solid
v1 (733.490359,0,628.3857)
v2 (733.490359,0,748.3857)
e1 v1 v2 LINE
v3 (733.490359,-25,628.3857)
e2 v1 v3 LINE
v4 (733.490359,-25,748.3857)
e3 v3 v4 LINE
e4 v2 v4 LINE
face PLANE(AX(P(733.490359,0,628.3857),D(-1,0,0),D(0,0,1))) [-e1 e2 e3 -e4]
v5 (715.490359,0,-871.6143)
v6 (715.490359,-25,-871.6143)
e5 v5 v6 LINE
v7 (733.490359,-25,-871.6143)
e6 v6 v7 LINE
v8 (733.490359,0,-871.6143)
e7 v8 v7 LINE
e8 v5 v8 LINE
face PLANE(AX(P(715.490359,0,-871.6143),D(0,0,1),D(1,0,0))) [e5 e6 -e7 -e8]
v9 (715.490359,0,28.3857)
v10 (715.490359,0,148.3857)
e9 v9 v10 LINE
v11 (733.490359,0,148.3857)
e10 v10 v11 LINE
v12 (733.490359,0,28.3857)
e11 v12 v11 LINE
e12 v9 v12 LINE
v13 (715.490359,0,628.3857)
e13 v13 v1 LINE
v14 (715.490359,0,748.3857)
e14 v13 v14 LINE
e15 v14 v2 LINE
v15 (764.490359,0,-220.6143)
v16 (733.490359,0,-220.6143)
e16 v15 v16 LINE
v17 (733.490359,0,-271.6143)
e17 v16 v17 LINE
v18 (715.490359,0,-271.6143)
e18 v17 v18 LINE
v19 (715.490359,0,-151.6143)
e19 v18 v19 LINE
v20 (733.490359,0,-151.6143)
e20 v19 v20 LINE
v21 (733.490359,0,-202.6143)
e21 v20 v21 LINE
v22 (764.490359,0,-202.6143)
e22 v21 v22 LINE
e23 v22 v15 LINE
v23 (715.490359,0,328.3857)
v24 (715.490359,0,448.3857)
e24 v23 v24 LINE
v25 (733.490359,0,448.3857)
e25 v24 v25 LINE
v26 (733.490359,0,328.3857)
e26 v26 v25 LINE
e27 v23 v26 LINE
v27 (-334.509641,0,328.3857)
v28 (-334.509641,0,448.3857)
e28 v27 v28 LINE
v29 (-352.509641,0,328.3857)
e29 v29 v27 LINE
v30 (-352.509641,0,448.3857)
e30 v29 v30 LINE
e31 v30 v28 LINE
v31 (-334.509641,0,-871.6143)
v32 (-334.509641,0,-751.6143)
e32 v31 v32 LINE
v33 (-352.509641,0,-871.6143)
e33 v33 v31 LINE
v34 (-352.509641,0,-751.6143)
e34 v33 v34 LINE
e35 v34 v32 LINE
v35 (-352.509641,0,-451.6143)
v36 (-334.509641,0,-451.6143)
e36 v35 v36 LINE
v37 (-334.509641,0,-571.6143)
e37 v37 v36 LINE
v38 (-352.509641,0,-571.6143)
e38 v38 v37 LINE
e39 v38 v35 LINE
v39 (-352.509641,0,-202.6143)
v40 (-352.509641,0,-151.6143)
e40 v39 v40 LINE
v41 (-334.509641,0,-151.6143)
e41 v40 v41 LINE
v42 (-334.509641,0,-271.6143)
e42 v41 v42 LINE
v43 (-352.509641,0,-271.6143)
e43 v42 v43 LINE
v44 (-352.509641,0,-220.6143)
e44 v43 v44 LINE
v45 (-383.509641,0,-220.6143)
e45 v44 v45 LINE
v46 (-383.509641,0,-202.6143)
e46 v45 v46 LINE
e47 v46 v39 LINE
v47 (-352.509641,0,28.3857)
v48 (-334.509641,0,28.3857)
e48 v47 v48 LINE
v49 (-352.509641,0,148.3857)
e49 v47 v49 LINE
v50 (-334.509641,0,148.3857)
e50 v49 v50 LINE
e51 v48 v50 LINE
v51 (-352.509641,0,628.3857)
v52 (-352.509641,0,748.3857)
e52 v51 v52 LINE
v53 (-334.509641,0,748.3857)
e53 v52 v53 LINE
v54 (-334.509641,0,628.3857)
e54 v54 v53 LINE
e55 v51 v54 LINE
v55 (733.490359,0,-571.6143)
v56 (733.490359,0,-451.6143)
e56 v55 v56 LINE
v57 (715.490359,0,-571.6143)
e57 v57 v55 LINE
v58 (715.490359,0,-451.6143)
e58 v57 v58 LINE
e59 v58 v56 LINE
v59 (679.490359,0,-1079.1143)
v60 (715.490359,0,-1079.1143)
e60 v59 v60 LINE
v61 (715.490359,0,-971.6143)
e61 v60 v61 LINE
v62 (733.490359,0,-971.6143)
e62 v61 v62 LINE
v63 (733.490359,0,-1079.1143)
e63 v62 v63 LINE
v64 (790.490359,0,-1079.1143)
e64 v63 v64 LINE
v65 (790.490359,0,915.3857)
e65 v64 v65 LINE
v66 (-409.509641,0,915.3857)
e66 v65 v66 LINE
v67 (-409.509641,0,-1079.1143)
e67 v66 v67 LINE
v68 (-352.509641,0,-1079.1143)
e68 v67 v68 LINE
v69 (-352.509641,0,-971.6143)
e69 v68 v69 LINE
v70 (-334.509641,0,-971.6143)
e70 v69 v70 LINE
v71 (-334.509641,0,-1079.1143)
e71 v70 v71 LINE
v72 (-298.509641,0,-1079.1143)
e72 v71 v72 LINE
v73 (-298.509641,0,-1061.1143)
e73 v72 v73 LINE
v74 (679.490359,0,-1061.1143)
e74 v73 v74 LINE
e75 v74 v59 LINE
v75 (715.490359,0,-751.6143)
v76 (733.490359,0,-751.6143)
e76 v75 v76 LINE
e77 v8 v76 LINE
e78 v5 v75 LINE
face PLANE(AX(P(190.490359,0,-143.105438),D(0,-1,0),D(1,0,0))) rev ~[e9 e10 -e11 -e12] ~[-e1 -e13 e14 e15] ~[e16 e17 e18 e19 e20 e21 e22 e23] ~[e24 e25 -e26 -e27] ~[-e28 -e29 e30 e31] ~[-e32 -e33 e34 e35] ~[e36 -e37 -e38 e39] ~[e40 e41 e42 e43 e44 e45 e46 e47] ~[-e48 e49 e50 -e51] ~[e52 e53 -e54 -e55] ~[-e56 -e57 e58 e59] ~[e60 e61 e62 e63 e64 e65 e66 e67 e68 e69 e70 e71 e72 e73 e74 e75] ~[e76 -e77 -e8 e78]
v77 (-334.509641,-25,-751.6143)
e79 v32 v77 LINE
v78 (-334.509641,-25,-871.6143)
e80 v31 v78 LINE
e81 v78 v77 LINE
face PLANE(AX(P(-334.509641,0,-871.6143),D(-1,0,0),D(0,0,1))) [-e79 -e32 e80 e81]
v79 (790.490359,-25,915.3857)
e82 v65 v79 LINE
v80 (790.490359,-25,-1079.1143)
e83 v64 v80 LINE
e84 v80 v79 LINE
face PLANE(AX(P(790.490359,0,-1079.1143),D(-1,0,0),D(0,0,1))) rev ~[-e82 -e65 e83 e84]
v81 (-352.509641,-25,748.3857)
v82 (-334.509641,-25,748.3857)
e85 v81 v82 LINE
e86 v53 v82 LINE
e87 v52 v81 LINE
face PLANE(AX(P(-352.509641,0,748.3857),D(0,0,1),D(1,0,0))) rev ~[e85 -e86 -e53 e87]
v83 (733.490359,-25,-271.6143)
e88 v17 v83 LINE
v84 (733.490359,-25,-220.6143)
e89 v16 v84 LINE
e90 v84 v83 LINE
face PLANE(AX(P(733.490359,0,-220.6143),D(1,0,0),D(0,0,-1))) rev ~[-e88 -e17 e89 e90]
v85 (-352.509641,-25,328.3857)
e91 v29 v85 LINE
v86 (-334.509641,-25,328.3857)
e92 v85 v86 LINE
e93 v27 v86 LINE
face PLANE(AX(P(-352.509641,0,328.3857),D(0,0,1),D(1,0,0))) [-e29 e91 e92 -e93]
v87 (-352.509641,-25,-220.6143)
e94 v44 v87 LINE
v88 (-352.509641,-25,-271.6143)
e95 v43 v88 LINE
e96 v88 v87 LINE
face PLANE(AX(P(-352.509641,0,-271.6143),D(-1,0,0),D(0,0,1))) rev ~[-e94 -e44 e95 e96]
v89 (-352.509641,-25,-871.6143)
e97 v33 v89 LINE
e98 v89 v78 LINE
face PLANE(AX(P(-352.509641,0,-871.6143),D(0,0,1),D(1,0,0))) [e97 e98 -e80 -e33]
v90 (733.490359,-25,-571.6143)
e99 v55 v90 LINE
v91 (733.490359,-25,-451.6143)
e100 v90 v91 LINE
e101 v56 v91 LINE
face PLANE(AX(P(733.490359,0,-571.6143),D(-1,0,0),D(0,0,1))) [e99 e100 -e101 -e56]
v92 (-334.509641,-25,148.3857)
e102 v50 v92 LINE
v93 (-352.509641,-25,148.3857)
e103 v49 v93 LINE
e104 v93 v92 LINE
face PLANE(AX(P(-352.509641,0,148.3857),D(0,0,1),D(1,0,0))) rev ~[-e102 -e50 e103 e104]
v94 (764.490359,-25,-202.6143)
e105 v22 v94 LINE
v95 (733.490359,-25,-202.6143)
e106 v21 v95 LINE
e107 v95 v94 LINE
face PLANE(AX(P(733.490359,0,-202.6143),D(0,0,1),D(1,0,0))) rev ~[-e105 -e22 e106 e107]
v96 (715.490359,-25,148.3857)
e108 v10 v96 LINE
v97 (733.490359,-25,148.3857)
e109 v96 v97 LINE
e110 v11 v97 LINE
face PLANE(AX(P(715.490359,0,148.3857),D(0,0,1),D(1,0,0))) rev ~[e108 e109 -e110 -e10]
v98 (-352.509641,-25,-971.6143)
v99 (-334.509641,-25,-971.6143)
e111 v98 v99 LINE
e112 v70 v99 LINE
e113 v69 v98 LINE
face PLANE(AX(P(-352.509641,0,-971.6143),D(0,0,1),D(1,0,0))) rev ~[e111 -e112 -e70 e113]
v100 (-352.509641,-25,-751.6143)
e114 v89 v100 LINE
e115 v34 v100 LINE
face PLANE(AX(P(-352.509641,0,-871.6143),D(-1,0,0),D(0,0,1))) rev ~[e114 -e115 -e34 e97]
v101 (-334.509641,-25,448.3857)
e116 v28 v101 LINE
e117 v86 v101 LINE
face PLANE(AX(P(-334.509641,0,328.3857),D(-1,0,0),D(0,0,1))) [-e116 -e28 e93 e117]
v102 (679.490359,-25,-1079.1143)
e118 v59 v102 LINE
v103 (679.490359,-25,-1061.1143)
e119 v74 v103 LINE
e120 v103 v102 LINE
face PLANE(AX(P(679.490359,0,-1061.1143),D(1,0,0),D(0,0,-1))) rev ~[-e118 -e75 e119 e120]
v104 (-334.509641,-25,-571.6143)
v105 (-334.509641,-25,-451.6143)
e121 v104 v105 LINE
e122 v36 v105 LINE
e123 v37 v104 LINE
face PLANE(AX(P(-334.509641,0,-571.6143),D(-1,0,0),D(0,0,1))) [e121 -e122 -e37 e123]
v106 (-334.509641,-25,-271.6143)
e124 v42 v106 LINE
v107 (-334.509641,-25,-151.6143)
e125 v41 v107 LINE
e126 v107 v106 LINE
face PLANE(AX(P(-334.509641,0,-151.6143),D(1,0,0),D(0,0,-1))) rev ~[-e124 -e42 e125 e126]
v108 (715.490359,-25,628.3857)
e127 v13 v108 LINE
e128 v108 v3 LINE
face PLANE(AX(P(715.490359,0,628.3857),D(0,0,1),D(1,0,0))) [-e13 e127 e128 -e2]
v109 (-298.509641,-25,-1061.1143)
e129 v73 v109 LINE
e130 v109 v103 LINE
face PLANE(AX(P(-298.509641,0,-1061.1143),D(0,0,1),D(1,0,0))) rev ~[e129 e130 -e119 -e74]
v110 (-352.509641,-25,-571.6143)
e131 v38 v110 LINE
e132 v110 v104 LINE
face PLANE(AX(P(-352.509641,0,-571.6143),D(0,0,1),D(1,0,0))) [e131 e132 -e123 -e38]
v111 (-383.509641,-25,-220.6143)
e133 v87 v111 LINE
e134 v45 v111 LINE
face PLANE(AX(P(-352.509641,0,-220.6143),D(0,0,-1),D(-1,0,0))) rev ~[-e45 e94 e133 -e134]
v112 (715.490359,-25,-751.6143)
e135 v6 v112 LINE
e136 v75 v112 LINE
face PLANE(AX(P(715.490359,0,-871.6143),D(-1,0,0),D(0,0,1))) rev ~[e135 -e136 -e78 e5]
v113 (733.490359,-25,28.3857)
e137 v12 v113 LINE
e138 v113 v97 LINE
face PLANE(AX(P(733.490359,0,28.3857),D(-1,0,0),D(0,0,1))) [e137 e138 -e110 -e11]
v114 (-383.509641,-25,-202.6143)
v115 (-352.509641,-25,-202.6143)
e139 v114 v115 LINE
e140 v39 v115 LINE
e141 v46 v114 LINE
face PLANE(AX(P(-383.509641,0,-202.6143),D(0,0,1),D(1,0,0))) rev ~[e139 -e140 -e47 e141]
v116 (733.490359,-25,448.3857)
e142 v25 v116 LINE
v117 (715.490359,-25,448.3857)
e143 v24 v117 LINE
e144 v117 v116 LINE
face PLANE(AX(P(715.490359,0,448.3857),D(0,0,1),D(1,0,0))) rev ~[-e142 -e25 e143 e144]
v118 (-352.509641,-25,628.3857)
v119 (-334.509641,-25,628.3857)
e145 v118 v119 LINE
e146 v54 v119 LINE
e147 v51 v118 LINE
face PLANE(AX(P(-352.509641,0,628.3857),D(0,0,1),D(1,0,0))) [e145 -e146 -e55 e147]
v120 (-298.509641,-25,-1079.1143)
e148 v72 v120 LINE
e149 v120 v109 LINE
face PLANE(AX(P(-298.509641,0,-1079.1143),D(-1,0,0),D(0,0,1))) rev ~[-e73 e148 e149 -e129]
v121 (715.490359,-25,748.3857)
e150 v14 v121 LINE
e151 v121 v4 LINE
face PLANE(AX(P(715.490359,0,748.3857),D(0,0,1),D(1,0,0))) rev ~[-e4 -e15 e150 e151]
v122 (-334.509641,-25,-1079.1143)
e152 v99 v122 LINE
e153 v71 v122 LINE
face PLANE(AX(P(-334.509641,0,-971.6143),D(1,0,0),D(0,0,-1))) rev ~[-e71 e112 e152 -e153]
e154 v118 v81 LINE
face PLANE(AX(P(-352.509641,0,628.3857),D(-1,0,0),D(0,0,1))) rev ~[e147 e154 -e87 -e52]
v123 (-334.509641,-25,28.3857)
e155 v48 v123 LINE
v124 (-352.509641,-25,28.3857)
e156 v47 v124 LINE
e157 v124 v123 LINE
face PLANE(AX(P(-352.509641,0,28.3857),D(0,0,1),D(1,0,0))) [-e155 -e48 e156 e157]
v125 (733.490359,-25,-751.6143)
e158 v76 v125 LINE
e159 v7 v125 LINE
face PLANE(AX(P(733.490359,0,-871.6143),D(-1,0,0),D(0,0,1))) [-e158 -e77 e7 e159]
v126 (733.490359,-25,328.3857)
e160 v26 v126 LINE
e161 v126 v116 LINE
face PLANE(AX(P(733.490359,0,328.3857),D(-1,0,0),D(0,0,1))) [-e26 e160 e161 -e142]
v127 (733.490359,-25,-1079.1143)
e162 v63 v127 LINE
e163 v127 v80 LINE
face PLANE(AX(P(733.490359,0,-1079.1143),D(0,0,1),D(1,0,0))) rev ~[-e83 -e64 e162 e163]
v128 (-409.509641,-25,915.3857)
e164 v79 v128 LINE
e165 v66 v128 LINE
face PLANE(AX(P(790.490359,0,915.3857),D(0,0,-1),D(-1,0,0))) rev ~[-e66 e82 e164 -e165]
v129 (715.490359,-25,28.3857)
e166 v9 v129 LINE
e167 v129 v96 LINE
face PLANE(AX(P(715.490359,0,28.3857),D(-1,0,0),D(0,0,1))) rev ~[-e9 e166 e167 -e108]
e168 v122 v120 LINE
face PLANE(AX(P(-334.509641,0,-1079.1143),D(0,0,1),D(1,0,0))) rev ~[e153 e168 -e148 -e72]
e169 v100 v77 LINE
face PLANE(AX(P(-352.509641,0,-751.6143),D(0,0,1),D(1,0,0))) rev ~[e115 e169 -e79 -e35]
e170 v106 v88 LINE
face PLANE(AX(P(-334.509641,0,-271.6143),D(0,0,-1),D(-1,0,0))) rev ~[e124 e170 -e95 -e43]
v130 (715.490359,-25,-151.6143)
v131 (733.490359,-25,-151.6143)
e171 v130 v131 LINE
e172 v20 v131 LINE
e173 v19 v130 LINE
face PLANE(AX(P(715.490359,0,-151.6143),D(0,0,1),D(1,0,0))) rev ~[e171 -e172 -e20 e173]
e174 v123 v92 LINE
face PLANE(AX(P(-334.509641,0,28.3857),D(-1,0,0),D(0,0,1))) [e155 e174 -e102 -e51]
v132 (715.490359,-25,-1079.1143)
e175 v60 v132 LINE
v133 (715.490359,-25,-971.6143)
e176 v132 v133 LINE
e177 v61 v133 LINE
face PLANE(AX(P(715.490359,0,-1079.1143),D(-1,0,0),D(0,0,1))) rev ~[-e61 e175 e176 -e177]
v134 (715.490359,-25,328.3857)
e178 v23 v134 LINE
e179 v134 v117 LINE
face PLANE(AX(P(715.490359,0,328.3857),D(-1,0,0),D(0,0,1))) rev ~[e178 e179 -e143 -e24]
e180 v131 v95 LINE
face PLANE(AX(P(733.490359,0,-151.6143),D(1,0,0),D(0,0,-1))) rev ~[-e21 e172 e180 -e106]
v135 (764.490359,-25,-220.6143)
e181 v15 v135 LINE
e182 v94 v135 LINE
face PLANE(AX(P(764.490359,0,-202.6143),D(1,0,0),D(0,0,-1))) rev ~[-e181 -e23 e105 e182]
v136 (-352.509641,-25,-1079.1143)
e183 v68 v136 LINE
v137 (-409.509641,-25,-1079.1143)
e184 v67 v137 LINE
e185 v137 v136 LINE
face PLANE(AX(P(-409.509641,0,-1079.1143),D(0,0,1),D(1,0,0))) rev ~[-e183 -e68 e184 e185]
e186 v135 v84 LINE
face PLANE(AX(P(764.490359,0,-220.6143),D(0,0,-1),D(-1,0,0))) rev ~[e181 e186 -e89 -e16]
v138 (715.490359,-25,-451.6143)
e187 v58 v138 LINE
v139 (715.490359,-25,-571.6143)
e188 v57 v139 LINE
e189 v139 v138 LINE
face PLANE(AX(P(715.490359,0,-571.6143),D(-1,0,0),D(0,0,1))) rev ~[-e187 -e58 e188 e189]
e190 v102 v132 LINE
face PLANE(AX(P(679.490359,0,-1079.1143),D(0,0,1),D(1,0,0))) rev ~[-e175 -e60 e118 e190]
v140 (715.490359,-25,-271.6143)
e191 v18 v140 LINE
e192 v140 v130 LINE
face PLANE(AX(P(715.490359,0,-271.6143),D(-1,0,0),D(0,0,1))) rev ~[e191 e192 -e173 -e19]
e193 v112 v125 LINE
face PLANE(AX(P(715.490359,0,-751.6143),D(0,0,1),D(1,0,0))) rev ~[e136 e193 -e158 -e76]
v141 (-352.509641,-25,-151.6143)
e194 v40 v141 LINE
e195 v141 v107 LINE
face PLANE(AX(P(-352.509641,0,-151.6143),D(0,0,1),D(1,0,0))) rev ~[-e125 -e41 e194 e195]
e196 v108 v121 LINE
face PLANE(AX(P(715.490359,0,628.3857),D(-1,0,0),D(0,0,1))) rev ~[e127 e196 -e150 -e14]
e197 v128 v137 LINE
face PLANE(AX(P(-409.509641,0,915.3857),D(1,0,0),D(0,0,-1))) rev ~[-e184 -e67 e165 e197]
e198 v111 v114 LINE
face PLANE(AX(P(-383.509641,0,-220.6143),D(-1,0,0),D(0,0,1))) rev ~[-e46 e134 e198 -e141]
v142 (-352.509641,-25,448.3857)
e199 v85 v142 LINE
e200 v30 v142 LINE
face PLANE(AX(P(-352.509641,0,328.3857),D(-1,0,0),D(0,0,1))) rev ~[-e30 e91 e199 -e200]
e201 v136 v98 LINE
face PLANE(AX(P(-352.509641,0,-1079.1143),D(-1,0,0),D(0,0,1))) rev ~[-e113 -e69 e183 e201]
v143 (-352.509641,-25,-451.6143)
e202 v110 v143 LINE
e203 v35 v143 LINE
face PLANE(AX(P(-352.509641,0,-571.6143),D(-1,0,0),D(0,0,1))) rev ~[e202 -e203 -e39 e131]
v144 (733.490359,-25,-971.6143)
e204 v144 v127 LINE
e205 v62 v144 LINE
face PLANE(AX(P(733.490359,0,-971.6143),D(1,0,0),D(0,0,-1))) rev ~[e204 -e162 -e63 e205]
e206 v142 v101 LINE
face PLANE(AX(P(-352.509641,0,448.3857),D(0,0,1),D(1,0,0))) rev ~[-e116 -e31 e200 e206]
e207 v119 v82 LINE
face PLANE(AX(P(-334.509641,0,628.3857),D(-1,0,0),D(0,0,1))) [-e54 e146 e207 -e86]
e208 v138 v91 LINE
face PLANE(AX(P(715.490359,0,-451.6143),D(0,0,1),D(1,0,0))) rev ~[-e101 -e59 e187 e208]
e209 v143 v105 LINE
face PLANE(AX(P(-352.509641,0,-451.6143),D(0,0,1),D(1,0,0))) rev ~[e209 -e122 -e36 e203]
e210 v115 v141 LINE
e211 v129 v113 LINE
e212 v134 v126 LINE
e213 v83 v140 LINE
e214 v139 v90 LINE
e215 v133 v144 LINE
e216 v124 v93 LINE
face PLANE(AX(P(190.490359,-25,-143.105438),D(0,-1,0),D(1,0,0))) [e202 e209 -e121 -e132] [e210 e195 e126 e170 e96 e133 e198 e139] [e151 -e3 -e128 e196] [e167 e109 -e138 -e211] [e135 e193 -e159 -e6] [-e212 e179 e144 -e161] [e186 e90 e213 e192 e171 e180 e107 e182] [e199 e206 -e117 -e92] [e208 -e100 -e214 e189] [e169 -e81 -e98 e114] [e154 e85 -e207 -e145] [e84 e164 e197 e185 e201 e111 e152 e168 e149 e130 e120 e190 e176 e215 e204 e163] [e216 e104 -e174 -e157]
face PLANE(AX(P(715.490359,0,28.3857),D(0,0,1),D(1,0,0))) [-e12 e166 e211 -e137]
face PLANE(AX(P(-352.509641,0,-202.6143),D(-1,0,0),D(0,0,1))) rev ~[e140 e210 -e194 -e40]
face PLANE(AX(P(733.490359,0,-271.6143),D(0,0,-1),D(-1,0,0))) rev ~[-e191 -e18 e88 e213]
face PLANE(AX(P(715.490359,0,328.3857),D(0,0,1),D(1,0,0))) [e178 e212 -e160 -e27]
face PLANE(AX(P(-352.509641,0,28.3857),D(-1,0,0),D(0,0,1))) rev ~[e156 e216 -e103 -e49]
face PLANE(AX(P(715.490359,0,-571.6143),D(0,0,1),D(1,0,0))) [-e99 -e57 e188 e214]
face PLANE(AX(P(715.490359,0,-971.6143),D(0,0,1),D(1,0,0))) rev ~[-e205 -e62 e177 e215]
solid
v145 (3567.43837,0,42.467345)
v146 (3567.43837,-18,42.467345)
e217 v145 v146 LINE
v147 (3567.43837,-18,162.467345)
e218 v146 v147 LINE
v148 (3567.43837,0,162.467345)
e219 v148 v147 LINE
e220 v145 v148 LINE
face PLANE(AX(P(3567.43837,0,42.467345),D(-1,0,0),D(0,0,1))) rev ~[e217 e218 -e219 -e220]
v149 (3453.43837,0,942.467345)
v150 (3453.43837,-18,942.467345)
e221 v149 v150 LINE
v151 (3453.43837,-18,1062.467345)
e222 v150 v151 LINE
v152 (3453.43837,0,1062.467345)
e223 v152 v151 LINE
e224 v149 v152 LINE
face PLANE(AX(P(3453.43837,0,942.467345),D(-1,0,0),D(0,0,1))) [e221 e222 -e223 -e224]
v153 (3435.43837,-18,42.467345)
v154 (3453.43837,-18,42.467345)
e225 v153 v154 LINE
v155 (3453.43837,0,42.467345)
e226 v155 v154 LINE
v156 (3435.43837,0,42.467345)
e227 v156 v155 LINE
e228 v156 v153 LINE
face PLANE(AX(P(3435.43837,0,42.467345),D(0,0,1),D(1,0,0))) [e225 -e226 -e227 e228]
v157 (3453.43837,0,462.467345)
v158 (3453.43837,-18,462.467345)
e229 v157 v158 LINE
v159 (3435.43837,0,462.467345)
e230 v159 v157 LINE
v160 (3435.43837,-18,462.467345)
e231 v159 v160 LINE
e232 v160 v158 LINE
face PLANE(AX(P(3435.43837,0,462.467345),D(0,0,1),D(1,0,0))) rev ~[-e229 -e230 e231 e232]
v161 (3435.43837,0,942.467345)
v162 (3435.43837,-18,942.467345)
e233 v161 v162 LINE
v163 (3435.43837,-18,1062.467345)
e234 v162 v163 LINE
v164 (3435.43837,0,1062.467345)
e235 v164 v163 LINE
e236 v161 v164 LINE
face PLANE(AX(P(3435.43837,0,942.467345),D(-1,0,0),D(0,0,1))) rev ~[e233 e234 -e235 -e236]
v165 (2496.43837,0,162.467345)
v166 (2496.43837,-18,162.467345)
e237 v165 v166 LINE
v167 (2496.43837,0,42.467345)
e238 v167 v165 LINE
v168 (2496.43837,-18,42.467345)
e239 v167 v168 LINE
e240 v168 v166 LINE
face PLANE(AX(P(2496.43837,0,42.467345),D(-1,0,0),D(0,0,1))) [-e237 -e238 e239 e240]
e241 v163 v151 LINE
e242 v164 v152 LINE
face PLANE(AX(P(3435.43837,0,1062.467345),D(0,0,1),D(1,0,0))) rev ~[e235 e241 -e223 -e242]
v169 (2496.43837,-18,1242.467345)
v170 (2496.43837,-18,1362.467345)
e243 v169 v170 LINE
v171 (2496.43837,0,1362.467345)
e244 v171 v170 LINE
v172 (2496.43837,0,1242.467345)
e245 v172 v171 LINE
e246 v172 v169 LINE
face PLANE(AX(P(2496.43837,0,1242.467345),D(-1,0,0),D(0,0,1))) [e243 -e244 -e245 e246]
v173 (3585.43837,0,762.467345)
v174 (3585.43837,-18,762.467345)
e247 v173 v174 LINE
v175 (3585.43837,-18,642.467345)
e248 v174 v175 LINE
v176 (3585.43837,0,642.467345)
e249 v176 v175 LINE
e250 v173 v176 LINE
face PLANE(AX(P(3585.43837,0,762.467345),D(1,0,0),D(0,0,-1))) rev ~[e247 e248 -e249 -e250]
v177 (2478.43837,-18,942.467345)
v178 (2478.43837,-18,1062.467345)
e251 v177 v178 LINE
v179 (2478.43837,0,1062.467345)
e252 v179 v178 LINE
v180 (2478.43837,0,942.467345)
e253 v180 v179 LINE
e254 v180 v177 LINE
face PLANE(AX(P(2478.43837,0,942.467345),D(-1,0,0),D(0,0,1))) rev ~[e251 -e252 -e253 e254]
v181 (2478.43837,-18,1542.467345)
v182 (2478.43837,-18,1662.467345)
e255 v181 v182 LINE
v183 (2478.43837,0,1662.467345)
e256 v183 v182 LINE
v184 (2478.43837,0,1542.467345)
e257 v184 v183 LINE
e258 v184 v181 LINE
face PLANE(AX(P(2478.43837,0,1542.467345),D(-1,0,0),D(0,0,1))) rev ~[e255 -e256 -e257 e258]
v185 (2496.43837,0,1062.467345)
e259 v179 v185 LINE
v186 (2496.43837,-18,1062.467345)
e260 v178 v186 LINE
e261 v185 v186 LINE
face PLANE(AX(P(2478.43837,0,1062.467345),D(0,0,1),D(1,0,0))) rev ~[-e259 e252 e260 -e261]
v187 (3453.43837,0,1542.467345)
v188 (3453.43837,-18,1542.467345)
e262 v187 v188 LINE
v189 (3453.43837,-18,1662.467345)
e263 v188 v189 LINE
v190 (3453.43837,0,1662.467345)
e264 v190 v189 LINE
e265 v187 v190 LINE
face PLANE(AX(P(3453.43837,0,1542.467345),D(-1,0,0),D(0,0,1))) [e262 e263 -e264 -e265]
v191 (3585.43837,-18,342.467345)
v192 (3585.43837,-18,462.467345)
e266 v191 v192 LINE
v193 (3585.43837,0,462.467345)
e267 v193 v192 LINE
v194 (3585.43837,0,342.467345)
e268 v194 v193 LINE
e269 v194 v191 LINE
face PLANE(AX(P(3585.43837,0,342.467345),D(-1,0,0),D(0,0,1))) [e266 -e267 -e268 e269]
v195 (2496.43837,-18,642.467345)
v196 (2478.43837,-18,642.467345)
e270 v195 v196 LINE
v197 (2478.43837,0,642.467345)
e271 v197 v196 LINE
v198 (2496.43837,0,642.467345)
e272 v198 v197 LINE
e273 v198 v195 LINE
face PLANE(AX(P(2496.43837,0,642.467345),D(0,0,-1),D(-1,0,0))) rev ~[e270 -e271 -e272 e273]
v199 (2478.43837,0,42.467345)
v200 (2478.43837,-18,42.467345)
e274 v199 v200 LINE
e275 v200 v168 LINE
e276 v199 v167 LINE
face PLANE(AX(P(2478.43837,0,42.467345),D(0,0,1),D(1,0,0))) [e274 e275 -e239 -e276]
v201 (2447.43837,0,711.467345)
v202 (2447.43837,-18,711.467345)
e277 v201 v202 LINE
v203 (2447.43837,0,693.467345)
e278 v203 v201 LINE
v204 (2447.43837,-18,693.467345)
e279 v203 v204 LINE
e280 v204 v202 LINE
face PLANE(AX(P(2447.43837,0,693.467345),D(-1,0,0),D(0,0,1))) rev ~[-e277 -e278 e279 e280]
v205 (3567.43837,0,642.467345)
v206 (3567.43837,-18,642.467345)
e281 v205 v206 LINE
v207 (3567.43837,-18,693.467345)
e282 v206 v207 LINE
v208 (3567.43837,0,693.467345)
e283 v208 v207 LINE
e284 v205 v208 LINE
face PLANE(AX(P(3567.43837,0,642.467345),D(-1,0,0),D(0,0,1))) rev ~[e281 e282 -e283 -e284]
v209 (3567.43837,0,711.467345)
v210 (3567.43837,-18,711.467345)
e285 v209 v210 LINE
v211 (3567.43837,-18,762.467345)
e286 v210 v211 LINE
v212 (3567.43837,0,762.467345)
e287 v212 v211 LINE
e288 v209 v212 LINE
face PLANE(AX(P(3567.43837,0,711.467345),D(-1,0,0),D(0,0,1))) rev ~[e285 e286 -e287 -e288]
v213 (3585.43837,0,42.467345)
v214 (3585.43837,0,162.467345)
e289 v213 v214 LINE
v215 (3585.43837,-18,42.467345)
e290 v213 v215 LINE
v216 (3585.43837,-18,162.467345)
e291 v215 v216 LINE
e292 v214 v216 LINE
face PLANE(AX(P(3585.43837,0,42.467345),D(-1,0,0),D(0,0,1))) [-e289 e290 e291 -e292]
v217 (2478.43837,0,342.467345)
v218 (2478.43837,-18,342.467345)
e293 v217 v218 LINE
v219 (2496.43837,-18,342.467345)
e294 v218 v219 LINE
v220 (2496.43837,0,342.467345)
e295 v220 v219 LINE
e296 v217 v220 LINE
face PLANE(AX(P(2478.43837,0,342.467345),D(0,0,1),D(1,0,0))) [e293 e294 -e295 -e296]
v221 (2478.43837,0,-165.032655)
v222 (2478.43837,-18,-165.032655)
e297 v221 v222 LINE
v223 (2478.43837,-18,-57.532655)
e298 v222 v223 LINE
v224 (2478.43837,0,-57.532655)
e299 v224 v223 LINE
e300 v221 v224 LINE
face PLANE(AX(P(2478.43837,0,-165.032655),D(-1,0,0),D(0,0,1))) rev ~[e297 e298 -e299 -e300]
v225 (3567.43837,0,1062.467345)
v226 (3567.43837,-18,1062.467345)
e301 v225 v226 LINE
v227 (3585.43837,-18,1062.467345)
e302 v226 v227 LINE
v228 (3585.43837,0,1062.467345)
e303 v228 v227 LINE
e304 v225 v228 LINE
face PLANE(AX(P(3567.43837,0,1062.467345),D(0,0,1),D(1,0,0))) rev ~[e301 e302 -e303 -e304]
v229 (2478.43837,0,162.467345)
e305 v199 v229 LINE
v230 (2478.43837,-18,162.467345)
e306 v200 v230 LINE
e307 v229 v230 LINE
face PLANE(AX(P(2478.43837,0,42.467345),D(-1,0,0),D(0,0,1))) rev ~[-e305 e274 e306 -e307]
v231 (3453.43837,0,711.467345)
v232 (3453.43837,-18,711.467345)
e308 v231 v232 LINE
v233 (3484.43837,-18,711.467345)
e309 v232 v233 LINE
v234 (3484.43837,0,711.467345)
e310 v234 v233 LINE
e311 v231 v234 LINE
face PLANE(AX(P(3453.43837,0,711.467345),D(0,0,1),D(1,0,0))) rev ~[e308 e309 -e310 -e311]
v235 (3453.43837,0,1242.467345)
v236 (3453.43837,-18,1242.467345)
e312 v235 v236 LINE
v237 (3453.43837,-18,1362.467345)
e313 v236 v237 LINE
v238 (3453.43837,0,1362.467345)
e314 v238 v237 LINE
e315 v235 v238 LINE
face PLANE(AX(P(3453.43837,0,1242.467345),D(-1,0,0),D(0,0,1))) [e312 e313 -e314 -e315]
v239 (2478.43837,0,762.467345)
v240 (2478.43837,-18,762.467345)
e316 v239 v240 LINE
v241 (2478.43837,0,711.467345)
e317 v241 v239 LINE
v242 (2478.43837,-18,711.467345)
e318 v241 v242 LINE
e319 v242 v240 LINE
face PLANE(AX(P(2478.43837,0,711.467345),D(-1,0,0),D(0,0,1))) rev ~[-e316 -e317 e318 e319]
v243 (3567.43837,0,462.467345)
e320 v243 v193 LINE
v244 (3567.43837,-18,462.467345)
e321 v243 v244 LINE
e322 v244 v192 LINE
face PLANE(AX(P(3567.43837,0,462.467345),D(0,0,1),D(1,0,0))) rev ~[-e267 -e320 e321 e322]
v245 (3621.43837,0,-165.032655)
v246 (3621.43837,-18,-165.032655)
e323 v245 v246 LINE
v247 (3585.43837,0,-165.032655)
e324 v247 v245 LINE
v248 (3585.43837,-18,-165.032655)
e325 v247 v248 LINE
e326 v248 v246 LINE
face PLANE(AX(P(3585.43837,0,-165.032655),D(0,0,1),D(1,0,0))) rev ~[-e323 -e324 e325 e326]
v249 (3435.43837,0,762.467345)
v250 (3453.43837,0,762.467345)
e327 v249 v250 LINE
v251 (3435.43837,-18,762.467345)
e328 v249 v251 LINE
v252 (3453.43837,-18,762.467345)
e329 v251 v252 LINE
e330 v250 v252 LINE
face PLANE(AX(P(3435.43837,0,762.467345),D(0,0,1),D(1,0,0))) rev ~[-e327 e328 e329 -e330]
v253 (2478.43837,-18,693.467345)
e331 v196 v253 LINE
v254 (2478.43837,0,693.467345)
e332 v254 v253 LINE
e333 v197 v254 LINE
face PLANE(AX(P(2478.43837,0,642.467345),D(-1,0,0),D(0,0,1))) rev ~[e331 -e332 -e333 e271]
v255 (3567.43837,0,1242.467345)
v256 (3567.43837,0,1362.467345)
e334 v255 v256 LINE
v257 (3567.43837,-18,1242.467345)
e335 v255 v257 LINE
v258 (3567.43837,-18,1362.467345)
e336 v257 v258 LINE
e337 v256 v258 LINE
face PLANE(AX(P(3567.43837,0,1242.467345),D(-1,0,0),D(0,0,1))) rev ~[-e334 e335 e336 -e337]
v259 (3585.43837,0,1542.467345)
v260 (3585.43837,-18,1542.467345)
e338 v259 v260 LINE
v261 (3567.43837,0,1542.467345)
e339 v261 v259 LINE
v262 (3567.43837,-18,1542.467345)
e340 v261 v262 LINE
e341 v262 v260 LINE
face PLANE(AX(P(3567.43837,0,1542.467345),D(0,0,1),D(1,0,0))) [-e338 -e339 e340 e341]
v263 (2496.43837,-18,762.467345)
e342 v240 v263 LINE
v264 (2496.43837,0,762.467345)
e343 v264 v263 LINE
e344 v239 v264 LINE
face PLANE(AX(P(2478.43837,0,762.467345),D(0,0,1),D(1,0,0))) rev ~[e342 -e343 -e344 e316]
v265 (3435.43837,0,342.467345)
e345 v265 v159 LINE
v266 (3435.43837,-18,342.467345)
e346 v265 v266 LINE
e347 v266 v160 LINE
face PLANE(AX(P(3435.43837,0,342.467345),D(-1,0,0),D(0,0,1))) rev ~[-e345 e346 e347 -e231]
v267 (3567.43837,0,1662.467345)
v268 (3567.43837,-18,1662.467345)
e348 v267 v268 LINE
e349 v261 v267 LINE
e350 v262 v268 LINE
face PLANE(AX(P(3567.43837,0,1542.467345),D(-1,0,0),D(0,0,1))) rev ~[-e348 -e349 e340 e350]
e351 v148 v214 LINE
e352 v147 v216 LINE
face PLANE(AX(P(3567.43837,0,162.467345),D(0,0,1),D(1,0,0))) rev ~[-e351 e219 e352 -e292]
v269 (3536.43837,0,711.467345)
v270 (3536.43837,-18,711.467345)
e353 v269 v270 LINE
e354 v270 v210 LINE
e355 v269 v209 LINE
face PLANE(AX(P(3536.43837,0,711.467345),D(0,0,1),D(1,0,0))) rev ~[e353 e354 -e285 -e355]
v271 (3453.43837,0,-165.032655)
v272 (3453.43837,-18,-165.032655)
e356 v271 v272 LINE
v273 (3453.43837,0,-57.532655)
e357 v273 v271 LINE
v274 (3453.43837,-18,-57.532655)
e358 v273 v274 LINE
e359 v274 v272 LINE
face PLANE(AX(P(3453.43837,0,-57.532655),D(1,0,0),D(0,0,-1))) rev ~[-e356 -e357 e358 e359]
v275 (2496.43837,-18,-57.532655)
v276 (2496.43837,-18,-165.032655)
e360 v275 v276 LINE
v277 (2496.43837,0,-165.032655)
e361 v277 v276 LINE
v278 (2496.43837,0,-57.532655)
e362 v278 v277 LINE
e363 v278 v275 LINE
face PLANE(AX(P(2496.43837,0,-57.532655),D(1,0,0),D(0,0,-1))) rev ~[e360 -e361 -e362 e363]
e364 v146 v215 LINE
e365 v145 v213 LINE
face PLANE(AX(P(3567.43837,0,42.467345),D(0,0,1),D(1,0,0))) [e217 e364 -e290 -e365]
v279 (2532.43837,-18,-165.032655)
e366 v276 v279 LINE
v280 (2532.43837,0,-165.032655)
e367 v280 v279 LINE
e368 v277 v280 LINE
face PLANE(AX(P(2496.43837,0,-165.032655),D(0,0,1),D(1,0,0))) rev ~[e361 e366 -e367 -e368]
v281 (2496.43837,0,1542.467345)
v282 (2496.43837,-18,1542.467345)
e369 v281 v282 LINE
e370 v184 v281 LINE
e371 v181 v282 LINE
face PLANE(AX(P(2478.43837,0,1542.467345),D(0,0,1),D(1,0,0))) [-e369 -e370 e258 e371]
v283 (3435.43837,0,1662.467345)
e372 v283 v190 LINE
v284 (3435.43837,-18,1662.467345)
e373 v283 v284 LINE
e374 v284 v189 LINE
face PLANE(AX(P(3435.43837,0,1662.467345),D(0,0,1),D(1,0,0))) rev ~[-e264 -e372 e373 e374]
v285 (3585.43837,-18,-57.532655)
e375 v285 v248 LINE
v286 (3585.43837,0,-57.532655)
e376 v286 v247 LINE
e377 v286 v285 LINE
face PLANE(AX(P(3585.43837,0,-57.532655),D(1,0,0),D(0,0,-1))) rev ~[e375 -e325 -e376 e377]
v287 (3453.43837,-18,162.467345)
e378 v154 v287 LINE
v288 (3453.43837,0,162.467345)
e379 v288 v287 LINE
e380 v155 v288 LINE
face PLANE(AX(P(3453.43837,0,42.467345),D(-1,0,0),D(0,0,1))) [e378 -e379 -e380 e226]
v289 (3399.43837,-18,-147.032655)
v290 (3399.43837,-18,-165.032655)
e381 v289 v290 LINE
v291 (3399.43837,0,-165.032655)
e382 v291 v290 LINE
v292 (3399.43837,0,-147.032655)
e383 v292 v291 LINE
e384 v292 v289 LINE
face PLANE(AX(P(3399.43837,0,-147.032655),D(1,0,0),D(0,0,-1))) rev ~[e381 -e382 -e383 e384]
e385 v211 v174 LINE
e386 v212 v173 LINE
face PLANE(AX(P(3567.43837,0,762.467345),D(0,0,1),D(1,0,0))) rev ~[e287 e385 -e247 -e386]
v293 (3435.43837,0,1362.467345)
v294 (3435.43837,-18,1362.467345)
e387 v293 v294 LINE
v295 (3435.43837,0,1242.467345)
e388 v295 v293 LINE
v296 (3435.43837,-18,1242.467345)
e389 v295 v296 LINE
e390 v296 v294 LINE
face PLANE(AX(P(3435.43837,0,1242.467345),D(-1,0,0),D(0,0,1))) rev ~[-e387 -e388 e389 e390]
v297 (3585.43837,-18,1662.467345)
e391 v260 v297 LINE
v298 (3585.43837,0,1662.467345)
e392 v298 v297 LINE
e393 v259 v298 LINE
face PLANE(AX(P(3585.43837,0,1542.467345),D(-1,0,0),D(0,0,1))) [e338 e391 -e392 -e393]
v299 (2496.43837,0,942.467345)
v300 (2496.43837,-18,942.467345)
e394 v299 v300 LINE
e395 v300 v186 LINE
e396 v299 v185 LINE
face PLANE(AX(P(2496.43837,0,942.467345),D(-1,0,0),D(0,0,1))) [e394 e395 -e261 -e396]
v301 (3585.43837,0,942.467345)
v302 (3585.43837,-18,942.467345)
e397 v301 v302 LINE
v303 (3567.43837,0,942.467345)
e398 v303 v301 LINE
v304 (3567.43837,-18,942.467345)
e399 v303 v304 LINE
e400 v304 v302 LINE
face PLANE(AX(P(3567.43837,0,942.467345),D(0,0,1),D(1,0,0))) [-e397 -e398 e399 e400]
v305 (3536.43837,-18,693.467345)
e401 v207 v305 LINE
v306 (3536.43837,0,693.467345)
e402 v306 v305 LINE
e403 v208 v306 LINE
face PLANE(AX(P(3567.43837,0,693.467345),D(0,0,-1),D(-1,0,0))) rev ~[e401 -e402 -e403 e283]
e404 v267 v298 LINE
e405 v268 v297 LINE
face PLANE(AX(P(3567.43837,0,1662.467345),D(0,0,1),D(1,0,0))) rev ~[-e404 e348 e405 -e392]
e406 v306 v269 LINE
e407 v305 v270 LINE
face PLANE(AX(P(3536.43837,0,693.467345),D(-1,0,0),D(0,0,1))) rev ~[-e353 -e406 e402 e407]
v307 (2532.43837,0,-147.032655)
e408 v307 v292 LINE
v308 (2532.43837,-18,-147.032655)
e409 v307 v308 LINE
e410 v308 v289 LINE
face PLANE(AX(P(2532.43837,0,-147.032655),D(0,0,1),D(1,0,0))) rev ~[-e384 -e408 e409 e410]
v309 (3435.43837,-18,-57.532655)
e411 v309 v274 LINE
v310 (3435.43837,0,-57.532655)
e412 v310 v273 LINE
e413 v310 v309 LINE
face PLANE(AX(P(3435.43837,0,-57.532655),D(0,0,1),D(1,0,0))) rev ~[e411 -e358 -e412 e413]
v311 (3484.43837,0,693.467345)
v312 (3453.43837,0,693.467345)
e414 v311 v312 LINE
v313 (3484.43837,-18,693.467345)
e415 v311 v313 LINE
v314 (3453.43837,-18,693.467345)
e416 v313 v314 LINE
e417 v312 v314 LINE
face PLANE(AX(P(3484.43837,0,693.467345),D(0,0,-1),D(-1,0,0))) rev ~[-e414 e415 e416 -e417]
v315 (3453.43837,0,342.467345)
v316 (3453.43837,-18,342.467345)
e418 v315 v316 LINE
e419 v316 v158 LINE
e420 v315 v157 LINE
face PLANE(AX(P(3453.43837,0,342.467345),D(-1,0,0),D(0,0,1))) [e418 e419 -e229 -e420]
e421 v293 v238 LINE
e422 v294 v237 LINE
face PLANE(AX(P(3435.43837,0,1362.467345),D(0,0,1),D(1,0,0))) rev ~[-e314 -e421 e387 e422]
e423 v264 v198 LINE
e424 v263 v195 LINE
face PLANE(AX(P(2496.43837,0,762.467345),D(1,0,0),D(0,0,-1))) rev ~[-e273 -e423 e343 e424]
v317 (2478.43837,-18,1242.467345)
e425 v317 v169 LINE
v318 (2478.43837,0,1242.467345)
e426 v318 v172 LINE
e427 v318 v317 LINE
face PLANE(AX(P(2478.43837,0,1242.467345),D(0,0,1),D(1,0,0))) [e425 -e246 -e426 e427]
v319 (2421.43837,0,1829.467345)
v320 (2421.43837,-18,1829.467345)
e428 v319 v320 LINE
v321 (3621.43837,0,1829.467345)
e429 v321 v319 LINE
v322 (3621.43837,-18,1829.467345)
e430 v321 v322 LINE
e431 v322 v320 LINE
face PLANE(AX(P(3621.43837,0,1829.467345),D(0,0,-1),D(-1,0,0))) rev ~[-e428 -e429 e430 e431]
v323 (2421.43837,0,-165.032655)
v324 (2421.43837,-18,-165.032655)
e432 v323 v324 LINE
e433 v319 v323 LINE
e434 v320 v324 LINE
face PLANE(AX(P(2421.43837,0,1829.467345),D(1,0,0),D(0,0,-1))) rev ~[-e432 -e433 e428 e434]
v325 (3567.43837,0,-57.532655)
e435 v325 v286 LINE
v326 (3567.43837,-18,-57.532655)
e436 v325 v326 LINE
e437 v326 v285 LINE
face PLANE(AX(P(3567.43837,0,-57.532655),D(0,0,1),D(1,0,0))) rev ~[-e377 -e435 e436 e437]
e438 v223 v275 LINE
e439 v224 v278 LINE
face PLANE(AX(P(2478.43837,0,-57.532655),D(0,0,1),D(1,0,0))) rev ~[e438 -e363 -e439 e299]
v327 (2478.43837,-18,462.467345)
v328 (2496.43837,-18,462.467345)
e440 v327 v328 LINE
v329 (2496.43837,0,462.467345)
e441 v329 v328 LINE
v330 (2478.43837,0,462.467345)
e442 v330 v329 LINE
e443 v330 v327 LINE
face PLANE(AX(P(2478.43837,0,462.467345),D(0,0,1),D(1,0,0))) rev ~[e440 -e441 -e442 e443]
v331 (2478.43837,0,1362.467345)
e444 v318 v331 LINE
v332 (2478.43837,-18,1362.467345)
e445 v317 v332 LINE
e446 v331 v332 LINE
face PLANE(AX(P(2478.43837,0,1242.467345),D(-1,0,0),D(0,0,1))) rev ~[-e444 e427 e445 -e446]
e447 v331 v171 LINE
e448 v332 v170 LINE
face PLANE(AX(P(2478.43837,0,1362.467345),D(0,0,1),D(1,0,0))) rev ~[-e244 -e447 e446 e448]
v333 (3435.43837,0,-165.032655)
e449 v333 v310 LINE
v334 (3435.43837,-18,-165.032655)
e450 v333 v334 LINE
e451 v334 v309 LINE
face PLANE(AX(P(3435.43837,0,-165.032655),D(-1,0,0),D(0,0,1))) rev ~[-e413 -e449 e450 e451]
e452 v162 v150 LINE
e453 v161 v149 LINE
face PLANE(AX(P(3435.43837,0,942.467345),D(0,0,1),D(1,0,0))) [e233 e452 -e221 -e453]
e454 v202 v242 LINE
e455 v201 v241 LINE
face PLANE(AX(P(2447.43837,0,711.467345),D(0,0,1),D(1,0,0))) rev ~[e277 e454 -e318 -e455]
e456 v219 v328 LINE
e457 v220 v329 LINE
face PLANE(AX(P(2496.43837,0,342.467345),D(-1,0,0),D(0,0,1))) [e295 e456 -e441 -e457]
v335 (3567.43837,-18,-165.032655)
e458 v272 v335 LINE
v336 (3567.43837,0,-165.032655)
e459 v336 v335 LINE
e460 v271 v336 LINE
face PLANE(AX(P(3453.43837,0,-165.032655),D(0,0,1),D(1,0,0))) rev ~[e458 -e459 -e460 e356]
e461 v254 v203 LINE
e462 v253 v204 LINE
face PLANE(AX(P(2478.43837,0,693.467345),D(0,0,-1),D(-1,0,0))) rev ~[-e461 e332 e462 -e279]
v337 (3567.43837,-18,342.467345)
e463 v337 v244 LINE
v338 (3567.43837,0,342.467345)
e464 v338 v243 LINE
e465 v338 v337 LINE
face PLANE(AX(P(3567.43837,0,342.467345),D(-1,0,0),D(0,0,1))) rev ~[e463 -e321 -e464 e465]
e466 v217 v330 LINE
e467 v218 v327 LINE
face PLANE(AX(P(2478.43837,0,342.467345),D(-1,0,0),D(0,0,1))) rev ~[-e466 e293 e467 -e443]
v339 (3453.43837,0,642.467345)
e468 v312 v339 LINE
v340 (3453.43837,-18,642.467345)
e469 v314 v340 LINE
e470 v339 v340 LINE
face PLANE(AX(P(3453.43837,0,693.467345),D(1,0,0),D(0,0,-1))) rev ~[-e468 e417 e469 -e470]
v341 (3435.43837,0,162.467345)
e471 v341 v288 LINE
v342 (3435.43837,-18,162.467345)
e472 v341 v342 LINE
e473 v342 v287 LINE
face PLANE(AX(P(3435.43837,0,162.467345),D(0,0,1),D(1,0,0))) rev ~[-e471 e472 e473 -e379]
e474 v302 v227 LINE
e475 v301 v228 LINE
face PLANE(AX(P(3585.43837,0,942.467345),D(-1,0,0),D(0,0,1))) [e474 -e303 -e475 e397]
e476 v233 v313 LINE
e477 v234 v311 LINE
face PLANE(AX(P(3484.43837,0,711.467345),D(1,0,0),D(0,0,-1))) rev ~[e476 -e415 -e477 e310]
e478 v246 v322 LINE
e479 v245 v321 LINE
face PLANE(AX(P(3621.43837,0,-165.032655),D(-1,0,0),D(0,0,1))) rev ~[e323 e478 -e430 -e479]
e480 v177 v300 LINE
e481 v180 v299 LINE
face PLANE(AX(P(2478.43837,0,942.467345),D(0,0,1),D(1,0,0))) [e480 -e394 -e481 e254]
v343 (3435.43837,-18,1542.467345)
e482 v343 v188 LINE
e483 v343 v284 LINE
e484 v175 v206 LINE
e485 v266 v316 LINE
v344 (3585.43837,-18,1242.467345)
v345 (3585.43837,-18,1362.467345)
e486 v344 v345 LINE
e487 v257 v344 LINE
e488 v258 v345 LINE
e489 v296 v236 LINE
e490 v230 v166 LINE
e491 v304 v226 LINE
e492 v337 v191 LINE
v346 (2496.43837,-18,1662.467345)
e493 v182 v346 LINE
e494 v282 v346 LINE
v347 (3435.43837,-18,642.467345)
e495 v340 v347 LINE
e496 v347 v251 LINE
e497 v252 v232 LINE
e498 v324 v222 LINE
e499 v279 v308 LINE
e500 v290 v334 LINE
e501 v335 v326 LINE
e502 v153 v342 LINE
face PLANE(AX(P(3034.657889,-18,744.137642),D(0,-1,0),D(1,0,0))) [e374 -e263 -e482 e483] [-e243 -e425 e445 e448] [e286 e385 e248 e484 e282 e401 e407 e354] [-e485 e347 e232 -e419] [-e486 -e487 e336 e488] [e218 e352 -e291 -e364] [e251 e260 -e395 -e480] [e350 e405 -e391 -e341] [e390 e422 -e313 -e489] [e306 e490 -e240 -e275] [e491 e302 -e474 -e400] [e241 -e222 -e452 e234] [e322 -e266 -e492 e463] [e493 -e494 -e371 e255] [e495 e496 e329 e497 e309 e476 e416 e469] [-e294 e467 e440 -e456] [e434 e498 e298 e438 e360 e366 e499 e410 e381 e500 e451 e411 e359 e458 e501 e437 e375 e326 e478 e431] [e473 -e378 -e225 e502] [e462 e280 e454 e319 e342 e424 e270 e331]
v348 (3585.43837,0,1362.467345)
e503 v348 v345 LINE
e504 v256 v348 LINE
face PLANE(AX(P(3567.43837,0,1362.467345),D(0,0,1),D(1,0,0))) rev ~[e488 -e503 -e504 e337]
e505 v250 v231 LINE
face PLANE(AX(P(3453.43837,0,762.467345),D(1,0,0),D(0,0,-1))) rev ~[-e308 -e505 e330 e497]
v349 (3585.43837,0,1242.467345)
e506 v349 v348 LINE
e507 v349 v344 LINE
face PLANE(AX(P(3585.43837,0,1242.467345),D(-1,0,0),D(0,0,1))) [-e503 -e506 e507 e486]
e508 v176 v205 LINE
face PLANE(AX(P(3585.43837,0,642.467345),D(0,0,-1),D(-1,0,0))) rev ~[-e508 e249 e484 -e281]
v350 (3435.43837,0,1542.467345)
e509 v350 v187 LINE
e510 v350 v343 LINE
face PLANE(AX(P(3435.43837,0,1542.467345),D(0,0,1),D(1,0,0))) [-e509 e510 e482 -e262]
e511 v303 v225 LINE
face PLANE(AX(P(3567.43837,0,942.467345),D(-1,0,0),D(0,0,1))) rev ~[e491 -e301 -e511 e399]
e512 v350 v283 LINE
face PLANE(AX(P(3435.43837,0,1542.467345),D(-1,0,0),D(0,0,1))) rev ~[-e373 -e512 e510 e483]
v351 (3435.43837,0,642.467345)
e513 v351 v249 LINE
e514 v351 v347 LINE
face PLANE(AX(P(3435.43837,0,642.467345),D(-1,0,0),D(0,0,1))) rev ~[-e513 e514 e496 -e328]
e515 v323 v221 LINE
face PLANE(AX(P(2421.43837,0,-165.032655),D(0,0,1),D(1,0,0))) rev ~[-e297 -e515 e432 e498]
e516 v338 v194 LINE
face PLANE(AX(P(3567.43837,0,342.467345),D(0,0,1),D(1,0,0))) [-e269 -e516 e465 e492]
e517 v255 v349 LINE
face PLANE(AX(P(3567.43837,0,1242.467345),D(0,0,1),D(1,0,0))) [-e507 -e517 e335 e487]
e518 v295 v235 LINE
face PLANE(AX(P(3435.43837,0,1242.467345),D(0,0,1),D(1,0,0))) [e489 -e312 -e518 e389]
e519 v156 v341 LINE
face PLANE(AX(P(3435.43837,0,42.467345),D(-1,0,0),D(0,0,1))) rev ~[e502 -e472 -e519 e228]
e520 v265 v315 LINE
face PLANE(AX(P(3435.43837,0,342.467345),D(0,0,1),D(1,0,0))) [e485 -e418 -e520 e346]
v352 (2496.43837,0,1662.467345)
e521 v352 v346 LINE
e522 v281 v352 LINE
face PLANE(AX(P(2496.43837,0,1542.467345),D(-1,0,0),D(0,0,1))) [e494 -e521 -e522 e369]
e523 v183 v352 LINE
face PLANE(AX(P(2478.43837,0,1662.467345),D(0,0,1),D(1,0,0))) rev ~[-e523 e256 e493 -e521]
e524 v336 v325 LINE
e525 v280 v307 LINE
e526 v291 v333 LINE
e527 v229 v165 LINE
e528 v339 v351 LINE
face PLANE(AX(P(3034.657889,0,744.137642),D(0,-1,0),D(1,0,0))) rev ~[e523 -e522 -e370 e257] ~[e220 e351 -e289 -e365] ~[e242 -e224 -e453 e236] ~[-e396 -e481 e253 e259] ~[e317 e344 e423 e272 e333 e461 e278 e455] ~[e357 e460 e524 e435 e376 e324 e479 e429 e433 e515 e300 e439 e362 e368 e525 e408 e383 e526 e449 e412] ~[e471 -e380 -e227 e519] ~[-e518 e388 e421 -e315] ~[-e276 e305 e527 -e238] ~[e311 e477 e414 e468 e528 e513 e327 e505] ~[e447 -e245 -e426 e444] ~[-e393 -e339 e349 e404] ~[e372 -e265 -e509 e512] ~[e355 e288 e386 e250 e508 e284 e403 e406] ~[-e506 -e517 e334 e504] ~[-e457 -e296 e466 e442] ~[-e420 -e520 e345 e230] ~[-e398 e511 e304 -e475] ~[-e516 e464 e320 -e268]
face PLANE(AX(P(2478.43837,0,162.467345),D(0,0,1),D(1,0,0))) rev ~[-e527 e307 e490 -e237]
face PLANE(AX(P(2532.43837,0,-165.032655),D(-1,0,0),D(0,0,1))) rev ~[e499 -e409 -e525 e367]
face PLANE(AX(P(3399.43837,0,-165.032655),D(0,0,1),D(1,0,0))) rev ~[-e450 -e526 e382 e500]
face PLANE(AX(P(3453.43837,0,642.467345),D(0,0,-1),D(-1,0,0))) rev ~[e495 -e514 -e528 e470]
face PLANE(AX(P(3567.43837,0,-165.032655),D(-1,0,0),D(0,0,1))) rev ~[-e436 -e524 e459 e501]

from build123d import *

# Parameters (mm, degrees)
F0_W     = 18
F0_H     = 120
F2_DEPTH = 25
F1_W     = 18
F1_H     = 120
F3_DEPTH = 18


with BuildPart() as f2:
    # F0 (on Front) → F2 (new body)
    with BuildSketch(Plane.XZ):
        Polygon((715.490359, 915.3857), (-334.509641, 915.3857), (-352.509641, 915.3857), (-409.509641, 915.3857), (-409.509641, -1079.1143), (-352.509641, -1079.1143), (-352.509641, -971.6143), (-334.509641, -971.6143), (-334.509641, -1079.1143), (-298.509641, -1079.1143), (-298.509641, -1061.1143), (190.490359, -1061.1143), (679.490359, -1061.1143), (679.490359, -1079.1143), (715.490359, -1079.1143), (715.490359, -971.6143), (733.490359, -971.6143), (733.490359, -1079.1143), (790.490359, -1079.1143), (790.490359, 915.3857), (733.490359, 915.3857), align=None)
        with Locations((-343.509641, -811.6143)):
            Rectangle(F0_W, F0_H, mode=Mode.SUBTRACT)
        with Locations((-343.509641, -511.6143)):
            Rectangle(F0_W, F0_H, mode=Mode.SUBTRACT)
        Polygon((-383.509641, -220.6143), (-383.509641, -202.6143), (-352.509641, -202.6143), (-352.509641, -151.6143), (-334.509641, -151.6143), (-334.509641, -211.6143), (-334.509641, -271.6143), (-352.509641, -271.6143), (-352.509641, -220.6143), align=None, mode=Mode.SUBTRACT)
        with Locations((724.490359, -811.6143)):
            Rectangle(F0_W, F0_H, mode=Mode.SUBTRACT)
        with Locations((724.490359, -511.6143)):
            Rectangle(F0_W, F0_H, mode=Mode.SUBTRACT)
        Polygon((715.490359, -271.6143), (715.490359, -211.6143), (715.490359, -151.6143), (733.490359, -151.6143), (733.490359, -202.6143), (764.490359, -202.6143), (764.490359, -220.6143), (733.490359, -220.6143), (733.490359, -271.6143), align=None, mode=Mode.SUBTRACT)
        with Locations((-343.509641, 88.3857)):
            Rectangle(F0_W, F0_H, mode=Mode.SUBTRACT)
        with Locations((-343.509641, 388.3857)):
            Rectangle(F0_W, F0_H, mode=Mode.SUBTRACT)
        with Locations((-343.509641, 688.3857)):
            Rectangle(F0_W, F0_H, mode=Mode.SUBTRACT)
        with Locations((724.490359, 88.3857)):
            Rectangle(F0_W, F0_H, mode=Mode.SUBTRACT)
        with Locations((724.490359, 388.3857)):
            Rectangle(F0_W, F0_H, mode=Mode.SUBTRACT)
        with Locations((724.490359, 688.3857)):
            Rectangle(F0_W, F0_H, mode=Mode.SUBTRACT)
    extrude(amount=F2_DEPTH)


with BuildPart() as f3:
    # F1 (on Front) → F3 (new body)
    with BuildSketch(Plane.XZ):
        Polygon((2478.43837, -165.032655), (2478.43837, -57.532655), (2496.43837, -57.532655), (2496.43837, -165.032655), (2532.43837, -165.032655), (2532.43837, -147.032655), (2965.93837, -147.032655), (3399.43837, -147.032655), (3399.43837, -165.032655), (3435.43837, -165.032655), (3435.43837, -57.532655), (3453.43837, -57.532655), (3453.43837, -165.032655), (3510.43837, -165.032655), (3567.43837, -165.032655), (3567.43837, -57.532655), (3585.43837, -57.532655), (3585.43837, -165.032655), (3621.43837, -165.032655), (3621.43837, -147.032655), (3621.43837, 1829.467345), (3585.43837, 1829.467345), (3567.43837, 1829.467345), (3453.43837, 1829.467345), (3435.43837, 1829.467345), (2496.43837, 1829.467345), (2478.43837, 1829.467345), (2421.43837, 1829.467345), (2421.43837, -165.032655), align=None)
        with Locations((2487.43837, 102.467345)):
            Rectangle(F1_W, F1_H, mode=Mode.SUBTRACT)
        with Locations((2487.43837, 402.467345)):
            Rectangle(F1_W, F1_H, mode=Mode.SUBTRACT)
        Polygon((2447.43837, 693.467345), (2447.43837, 711.467345), (2478.43837, 711.467345), (2478.43837, 762.467345), (2496.43837, 762.467345), (2496.43837, 642.467345), (2478.43837, 642.467345), (2478.43837, 693.467345), align=None, mode=Mode.SUBTRACT)
        with Locations((3444.43837, 102.467345)):
            Rectangle(F1_W, F1_H, mode=Mode.SUBTRACT)
        with Locations((3576.43837, 102.467345)):
            Rectangle(F1_W, F1_H, mode=Mode.SUBTRACT)
        with Locations((3444.43837, 402.467345)):
            Rectangle(F1_W, F1_H, mode=Mode.SUBTRACT)
        with Locations((3576.43837, 402.467345)):
            Rectangle(F1_W, F1_H, mode=Mode.SUBTRACT)
        Polygon((3453.43837, 693.467345), (3453.43837, 642.467345), (3435.43837, 642.467345), (3435.43837, 762.467345), (3453.43837, 762.467345), (3453.43837, 711.467345), (3484.43837, 711.467345), (3484.43837, 693.467345), align=None, mode=Mode.SUBTRACT)
        Polygon((3585.43837, 642.467345), (3567.43837, 642.467345), (3567.43837, 693.467345), (3536.43837, 693.467345), (3536.43837, 711.467345), (3567.43837, 711.467345), (3567.43837, 762.467345), (3585.43837, 762.467345), align=None, mode=Mode.SUBTRACT)
        with Locations((2487.43837, 1002.467345)):
            Rectangle(F1_W, F1_H, mode=Mode.SUBTRACT)
        with Locations((2487.43837, 1302.467345)):
            Rectangle(F1_W, F1_H, mode=Mode.SUBTRACT)
        with Locations((2487.43837, 1602.467345)):
            Rectangle(F1_W, F1_H, mode=Mode.SUBTRACT)
        with Locations((3444.43837, 1002.467345)):
            Rectangle(F1_W, F1_H, mode=Mode.SUBTRACT)
        with Locations((3576.43837, 1002.467345)):
            Rectangle(F1_W, F1_H, mode=Mode.SUBTRACT)
        with Locations((3444.43837, 1302.467345)):
            Rectangle(F1_W, F1_H, mode=Mode.SUBTRACT)
        with Locations((3576.43837, 1302.467345)):
            Rectangle(F1_W, F1_H, mode=Mode.SUBTRACT)
        with Locations((3444.43837, 1602.467345)):
            Rectangle(F1_W, F1_H, mode=Mode.SUBTRACT)
        with Locations((3576.43837, 1602.467345)):
            Rectangle(F1_W, F1_H, mode=Mode.SUBTRACT)
    extrude(amount=F3_DEPTH)


solid = Compound([f2.part, f3.part])
